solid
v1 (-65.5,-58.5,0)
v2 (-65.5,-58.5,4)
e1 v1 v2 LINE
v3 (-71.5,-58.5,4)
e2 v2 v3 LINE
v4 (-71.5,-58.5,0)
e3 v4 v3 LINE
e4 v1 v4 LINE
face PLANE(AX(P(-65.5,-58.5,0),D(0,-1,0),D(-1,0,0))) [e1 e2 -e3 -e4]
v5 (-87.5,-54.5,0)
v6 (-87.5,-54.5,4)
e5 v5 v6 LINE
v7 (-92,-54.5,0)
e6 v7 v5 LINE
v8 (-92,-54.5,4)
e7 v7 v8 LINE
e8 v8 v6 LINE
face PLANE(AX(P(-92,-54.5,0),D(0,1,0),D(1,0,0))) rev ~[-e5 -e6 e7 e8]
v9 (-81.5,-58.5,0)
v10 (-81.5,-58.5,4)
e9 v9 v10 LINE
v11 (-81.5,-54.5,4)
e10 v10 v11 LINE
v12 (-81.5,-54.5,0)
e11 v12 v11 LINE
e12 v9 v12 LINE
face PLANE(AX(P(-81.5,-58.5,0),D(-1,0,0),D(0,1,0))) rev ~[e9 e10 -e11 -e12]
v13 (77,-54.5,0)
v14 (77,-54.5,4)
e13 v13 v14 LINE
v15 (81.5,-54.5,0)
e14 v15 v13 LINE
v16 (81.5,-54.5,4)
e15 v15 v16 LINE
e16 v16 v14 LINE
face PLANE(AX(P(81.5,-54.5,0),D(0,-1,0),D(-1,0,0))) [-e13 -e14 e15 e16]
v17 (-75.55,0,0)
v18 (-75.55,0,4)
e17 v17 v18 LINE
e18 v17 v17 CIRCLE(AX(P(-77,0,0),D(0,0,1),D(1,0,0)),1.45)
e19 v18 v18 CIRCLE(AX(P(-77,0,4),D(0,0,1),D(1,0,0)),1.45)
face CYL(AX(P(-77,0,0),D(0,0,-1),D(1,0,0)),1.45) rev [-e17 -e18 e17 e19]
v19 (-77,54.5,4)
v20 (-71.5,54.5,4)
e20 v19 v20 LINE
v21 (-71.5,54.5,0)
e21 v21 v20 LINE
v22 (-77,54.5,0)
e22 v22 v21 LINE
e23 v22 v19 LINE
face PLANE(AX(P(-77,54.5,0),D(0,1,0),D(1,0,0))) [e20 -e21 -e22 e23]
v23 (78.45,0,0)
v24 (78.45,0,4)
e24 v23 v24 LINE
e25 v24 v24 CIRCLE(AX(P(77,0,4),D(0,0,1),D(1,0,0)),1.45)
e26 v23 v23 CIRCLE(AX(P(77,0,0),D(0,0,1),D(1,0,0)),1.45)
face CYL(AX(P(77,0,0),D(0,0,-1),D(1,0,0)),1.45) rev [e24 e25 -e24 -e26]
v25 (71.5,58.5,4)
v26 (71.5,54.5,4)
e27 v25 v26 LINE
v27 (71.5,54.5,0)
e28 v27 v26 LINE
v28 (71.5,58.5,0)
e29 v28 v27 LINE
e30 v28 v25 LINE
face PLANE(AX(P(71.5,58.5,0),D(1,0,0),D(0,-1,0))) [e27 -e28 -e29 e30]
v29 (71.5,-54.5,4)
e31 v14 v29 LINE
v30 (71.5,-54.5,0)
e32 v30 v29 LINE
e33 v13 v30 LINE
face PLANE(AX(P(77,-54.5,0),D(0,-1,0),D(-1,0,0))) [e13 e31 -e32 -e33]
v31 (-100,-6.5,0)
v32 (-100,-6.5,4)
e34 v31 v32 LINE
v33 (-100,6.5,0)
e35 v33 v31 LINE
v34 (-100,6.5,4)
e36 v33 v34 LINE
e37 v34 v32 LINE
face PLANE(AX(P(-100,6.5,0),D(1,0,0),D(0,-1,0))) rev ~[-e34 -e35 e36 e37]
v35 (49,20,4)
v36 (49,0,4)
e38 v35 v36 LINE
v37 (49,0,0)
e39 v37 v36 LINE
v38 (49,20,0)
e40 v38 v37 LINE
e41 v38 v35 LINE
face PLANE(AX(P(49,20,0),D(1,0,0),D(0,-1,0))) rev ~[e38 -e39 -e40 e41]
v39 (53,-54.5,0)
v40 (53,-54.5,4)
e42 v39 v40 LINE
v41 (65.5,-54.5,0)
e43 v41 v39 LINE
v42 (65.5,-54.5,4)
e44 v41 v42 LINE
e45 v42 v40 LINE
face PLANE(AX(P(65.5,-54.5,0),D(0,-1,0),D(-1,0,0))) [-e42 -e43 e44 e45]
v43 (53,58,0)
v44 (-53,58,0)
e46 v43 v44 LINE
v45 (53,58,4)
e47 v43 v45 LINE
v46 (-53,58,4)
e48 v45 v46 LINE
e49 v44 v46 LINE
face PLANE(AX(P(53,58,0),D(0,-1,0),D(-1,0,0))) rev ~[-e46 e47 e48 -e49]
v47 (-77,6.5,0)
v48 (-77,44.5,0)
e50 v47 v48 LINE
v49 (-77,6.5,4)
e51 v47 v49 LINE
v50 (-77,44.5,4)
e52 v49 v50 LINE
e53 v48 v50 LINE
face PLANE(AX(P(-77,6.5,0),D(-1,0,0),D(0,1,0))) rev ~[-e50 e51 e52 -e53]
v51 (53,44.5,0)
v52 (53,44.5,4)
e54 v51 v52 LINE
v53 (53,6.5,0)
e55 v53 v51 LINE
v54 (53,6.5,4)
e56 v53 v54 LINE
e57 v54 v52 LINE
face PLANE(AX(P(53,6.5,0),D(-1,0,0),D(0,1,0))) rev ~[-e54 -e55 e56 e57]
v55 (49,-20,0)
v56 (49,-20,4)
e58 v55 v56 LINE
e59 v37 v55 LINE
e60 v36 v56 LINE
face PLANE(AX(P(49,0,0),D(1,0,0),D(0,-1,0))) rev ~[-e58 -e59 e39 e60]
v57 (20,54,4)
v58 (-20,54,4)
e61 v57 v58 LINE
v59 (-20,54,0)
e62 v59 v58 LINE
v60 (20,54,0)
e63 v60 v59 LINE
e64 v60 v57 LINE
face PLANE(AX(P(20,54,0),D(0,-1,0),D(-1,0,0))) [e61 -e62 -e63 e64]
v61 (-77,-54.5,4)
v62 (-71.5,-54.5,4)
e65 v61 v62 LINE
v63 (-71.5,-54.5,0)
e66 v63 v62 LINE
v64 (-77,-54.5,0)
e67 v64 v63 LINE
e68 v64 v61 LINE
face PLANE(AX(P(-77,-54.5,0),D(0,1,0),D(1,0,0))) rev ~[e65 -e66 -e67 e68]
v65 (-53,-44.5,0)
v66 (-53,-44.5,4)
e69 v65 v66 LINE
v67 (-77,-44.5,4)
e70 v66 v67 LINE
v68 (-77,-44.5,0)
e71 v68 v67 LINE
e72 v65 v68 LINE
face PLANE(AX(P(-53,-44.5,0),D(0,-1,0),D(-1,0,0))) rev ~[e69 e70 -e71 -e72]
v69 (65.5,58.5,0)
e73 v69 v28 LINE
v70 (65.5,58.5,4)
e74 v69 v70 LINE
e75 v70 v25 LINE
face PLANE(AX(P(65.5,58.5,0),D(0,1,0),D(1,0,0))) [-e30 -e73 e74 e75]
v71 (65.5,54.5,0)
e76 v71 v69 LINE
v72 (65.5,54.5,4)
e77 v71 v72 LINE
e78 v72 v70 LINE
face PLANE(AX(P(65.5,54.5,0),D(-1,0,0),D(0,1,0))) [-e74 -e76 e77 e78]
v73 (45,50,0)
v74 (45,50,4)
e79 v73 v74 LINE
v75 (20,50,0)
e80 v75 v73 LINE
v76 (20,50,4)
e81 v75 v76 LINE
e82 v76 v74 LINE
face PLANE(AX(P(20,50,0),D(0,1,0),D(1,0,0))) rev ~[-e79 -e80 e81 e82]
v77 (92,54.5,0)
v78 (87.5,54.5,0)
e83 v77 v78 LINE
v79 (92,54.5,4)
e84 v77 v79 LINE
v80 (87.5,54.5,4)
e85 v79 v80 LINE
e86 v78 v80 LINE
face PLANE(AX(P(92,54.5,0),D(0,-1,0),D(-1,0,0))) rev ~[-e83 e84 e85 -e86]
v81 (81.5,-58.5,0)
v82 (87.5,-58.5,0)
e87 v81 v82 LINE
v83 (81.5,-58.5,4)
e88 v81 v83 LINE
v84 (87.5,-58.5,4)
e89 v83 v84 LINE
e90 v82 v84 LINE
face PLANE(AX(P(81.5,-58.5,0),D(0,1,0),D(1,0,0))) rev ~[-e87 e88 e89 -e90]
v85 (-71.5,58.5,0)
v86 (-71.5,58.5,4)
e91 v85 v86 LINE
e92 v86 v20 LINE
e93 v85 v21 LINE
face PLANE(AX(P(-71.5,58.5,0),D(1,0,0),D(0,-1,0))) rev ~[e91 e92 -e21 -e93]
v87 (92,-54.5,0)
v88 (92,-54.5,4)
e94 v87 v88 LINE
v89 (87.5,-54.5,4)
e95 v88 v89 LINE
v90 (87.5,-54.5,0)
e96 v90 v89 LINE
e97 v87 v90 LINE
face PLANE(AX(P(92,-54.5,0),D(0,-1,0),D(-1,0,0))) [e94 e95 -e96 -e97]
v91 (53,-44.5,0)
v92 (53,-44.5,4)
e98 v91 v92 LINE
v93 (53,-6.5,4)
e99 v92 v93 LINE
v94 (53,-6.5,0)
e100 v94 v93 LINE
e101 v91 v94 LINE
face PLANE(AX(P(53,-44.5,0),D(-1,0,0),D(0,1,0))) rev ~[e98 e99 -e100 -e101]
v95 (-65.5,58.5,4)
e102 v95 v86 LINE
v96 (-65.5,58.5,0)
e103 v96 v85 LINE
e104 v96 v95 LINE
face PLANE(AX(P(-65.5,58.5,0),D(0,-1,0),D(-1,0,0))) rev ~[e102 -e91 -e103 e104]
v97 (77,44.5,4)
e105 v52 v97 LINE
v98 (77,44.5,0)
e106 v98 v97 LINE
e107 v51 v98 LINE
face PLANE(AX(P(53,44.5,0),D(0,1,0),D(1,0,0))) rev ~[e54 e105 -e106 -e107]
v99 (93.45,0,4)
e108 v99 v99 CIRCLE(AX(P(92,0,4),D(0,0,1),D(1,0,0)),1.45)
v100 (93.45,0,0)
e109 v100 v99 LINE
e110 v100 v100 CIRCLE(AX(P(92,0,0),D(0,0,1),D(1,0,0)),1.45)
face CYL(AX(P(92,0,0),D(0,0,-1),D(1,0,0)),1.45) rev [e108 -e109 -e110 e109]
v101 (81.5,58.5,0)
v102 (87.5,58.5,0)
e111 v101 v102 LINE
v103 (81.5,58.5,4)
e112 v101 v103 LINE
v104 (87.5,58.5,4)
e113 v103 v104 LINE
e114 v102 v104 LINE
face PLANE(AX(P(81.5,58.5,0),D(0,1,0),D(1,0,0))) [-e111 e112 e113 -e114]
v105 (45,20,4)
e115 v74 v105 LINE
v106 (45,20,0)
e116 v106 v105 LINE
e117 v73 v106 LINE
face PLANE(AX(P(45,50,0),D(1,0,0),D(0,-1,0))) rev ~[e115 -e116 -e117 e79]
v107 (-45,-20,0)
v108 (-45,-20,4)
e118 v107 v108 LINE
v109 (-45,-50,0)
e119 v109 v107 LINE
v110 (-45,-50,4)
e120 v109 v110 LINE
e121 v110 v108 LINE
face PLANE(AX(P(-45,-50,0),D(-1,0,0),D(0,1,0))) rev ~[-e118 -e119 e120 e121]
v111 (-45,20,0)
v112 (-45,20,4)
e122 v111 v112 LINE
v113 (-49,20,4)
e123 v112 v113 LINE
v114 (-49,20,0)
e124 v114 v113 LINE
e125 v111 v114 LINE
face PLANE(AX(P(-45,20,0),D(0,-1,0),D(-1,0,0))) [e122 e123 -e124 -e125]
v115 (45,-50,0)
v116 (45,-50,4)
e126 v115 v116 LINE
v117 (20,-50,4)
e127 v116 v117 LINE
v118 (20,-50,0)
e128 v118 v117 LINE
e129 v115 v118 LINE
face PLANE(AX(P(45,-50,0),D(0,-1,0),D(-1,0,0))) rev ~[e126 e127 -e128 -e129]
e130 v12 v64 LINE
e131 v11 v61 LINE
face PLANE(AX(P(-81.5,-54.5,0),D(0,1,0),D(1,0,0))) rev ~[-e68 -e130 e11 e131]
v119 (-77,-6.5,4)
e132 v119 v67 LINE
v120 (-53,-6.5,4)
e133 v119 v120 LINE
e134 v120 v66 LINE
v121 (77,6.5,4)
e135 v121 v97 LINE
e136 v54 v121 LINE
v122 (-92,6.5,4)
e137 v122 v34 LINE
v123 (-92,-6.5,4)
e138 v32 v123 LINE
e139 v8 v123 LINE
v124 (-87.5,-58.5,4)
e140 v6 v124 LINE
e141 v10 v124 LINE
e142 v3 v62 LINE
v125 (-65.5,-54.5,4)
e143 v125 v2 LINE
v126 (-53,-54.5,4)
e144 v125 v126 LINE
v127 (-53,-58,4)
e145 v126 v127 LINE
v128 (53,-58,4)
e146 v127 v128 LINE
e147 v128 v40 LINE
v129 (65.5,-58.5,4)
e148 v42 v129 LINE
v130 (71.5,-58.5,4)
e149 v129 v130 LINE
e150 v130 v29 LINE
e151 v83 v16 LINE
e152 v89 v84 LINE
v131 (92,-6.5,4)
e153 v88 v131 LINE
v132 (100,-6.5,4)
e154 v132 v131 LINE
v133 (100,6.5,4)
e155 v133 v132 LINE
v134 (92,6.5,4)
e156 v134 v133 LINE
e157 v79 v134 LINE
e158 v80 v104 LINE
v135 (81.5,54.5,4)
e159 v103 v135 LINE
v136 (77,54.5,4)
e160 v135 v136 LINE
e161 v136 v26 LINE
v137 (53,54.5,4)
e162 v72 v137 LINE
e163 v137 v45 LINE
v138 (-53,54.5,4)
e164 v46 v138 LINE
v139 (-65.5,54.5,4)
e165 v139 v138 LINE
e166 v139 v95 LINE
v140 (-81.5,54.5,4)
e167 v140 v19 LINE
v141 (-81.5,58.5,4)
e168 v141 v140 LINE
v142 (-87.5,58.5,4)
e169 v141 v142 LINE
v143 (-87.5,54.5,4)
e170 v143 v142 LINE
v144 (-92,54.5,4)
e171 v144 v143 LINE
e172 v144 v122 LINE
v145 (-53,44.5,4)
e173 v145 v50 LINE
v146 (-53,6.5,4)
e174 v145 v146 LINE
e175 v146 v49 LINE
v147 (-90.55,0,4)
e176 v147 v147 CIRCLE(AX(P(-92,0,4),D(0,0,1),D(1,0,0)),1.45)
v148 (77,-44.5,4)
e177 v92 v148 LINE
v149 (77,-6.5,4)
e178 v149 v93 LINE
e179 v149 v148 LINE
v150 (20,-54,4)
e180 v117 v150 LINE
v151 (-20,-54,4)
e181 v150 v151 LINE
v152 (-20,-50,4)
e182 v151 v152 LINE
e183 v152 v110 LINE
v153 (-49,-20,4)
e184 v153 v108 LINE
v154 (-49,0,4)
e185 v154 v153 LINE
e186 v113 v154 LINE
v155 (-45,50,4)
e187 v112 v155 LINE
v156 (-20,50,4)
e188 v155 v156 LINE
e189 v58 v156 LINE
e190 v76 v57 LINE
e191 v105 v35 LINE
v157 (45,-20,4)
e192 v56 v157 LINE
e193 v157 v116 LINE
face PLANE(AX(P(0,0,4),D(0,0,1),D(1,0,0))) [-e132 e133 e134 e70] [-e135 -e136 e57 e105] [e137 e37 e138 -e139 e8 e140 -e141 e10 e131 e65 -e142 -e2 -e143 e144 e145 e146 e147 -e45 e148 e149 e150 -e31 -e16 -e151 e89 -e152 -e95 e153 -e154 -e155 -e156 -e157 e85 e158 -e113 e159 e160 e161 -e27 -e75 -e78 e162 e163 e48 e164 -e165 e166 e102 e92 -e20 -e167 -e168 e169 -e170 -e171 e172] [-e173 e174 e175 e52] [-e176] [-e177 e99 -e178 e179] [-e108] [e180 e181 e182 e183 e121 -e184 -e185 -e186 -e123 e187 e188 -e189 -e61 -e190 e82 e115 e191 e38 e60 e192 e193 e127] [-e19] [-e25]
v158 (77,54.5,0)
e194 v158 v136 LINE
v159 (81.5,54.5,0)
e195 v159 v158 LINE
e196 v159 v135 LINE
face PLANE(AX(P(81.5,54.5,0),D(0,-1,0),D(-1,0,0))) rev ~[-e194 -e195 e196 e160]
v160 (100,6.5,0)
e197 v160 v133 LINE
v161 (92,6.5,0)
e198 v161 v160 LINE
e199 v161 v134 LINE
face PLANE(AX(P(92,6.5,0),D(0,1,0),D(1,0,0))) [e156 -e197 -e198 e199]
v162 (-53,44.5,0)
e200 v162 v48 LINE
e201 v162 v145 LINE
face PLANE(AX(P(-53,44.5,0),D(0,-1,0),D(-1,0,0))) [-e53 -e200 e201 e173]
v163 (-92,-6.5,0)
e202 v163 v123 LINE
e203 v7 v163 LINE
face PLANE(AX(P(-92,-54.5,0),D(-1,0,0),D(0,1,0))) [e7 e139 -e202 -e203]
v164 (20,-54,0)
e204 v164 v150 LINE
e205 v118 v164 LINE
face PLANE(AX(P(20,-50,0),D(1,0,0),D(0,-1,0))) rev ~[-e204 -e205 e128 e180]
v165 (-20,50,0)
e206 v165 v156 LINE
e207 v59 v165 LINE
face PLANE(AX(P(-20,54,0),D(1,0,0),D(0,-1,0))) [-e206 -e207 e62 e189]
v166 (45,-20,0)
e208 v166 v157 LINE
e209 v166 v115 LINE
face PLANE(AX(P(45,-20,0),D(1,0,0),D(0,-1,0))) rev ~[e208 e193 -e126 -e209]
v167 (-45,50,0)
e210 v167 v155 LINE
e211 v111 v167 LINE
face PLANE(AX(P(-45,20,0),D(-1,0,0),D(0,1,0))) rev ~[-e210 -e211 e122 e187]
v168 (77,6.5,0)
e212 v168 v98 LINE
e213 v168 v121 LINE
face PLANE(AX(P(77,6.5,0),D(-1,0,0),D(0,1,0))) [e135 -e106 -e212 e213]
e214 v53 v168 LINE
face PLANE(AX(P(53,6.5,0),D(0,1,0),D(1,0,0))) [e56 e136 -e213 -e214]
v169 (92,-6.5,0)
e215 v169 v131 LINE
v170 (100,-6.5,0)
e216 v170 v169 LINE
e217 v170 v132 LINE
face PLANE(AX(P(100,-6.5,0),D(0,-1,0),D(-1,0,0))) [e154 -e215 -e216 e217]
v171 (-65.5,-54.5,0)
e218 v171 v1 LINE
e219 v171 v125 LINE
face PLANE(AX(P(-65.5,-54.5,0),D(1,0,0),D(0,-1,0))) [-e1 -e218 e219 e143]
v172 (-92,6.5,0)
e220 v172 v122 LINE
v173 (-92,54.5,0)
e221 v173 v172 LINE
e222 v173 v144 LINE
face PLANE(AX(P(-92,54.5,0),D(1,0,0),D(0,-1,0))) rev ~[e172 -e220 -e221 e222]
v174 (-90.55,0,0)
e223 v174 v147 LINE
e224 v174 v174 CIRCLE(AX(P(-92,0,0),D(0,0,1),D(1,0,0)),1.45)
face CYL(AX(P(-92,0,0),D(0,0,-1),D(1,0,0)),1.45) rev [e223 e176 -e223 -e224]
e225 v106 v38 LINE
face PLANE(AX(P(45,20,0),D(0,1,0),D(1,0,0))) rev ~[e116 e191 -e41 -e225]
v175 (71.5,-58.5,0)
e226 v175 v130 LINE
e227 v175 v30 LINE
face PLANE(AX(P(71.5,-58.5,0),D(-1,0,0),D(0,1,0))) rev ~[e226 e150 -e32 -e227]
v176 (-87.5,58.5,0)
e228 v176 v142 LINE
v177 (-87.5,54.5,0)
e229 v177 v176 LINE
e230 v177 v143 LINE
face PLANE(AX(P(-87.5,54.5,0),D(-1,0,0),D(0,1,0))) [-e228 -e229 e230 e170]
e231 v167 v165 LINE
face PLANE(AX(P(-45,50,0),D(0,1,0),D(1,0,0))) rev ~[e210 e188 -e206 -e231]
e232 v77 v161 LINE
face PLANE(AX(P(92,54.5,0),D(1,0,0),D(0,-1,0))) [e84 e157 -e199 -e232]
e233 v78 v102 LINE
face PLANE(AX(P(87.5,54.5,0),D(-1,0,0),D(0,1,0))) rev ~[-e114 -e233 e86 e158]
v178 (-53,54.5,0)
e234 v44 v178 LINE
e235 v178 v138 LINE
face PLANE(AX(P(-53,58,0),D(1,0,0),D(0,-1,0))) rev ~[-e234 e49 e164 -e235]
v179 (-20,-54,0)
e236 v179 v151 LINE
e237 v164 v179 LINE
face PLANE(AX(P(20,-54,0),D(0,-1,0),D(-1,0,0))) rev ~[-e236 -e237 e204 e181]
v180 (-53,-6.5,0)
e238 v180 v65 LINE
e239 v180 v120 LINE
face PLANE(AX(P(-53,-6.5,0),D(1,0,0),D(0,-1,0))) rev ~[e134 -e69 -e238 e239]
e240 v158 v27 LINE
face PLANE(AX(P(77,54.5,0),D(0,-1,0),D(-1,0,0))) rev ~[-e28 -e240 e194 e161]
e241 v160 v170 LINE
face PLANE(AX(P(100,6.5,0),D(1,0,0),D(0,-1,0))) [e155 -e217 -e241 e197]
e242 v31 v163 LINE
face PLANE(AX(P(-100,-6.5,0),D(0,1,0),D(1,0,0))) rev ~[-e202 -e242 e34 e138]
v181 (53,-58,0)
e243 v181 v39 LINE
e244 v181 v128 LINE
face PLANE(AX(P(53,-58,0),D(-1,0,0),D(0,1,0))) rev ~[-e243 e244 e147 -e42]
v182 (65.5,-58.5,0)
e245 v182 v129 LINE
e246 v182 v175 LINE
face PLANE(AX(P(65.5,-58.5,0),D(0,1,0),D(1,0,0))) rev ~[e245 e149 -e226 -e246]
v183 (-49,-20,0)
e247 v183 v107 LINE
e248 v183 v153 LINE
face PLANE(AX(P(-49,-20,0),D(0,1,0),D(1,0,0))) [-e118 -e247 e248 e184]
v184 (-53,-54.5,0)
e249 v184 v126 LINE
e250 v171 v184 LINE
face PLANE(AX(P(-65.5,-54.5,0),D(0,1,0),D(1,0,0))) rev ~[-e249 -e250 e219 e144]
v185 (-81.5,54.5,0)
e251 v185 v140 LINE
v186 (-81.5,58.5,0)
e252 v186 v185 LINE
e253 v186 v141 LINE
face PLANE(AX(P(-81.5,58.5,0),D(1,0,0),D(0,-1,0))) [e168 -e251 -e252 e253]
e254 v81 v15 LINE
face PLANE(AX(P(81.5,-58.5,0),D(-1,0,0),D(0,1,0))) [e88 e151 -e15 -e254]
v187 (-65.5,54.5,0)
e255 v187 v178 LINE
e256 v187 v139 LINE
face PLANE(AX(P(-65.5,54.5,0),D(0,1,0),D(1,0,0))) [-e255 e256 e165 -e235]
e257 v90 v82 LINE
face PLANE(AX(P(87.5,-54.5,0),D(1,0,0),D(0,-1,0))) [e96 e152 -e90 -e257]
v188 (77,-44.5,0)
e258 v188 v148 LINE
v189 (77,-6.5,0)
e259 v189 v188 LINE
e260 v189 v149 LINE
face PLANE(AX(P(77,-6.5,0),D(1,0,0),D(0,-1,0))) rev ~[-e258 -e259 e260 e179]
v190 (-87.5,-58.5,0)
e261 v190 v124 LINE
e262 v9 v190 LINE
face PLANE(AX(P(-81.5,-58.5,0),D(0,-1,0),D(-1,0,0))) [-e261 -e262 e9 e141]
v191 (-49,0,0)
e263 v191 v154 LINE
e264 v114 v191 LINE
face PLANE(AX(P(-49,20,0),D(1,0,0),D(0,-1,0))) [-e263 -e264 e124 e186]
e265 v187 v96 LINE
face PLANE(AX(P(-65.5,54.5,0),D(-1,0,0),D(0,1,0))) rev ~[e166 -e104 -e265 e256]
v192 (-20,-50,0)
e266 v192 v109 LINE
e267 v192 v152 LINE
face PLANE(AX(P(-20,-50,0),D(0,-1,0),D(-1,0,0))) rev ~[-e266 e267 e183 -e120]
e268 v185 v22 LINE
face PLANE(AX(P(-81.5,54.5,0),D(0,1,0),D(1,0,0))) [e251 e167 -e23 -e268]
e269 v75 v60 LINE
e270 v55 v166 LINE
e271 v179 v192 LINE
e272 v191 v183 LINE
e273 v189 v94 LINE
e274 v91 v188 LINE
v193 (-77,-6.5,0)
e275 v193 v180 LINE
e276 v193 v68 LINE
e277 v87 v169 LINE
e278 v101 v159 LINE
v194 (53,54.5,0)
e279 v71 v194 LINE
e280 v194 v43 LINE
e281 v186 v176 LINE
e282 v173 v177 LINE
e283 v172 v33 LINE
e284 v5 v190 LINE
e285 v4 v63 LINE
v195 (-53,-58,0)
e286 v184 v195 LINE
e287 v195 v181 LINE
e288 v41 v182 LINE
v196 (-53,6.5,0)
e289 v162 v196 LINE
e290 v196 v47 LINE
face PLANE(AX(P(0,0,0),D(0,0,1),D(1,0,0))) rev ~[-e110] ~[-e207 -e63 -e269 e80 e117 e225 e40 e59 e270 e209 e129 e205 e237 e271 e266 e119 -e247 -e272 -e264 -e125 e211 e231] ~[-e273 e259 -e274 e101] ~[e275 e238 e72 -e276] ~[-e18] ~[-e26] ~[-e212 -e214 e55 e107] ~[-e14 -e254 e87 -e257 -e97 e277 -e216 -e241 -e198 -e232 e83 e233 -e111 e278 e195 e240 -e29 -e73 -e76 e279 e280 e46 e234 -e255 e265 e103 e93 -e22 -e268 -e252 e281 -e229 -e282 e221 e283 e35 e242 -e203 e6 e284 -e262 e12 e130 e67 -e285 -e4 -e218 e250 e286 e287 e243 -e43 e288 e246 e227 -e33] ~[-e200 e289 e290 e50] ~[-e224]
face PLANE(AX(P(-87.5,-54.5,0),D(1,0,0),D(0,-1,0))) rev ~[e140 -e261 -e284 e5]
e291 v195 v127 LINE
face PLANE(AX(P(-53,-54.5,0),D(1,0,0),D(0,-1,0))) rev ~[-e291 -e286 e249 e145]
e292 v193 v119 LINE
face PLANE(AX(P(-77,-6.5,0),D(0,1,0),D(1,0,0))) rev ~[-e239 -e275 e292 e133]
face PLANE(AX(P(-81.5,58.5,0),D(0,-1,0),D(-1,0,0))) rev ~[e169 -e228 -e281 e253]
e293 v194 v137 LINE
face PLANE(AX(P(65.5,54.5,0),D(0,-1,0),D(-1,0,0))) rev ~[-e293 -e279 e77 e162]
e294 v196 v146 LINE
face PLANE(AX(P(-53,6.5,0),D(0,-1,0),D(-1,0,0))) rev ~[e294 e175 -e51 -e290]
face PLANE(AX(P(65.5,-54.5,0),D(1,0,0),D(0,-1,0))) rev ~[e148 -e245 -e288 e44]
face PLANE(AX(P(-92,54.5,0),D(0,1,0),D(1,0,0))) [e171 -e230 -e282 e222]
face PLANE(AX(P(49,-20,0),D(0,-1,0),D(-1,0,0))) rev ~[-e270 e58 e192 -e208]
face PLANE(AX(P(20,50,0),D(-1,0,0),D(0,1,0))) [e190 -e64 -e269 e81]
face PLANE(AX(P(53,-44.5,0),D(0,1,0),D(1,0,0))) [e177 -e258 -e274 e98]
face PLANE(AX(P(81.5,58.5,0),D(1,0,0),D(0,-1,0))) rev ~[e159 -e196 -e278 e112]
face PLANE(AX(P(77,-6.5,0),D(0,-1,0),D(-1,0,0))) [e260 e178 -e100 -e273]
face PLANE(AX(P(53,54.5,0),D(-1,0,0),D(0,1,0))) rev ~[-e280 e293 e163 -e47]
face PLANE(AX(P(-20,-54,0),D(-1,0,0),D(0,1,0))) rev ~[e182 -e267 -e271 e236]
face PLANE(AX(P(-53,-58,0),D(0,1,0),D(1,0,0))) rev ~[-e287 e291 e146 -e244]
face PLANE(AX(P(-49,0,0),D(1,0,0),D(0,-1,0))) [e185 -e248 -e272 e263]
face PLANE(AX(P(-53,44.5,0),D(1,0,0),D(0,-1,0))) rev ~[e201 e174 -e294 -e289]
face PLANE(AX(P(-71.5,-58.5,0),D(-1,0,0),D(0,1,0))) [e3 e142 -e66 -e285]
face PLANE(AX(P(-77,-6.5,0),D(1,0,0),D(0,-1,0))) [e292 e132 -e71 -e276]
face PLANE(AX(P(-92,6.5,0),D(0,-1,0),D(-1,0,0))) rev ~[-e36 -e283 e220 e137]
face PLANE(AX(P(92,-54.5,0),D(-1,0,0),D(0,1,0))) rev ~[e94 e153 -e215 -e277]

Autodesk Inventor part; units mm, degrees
ref_plane "YZ Plane" through (0, 0, 0) normal (1, 0, 0) x (0, 1, 0)
ref_plane "XZ Plane" through (0, 0, 0) normal (0, 1, 0) x (-1, 0, 0)
ref_plane "XY Plane" through (0, 0, 0) normal (0, 0, 1) x (1, 0, 0)
sketch "Sketch1" plane through (0, 0, 0) normal (0, 0, 1) x (1, 0, 0)
  line L0 (45, -50) -> (-45, -50)
  line L1 (-45, -50) -> (-45, 50)
  line L2 (-45, 50) -> (45, 50)
  line L3 (45, 50) -> (45, -50)
  line L4 (45, -50) -> (-45, 50) construction
  line L5 (-45, -50) -> (45, 50) construction
  line L6 (53, 58) -> (-53, 58)
  line L7 (-53, 58) -> (-53, 54.5)
  line L8 (-53, -58) -> (53, -58)
  line L9 (53, -58) -> (53, -54.5)
  line L10 (-20, 50) -> (20, 50)
  line L11 (20, 50) -> (20, 54)
  line L12 (20, 54) -> (-20, 54)
  line L13 (-20, 54) -> (-20, 50)
  line L14 (-20, -50) -> (20, -50)
  line L15 (20, -50) -> (20, -54)
  line L16 (20, -54) -> (-20, -54)
  line L17 (-20, -54) -> (-20, -50)
  line L18 (-45, 20) -> (-49, 20)
  line L19 (-49, 20) -> (-49, -20)
  line L20 (-49, -20) -> (-45, -20)
  line L21 (-45, -20) -> (-45, 20)
  line L22 (45, 20) -> (49, 20)
  line L23 (49, 20) -> (49, -20)
  line L24 (49, -20) -> (45, -20)
  line L25 (45, -20) -> (45, 20)
  line L26 (-53, 6.5) -> (-77, 6.5)
  line L27 (-100, 6.5) -> (-100, -6.5)
  line L28 (-100, -6.5) -> (-92, -6.5)
  line L29 (-53, -6.5) -> (-53, 6.5) construction
  line L30 (-53, 0) -> (53, 0)
  circle A0 centre (-92, 0) radius 1.45
  circle A1 centre (-77, 0) radius 1.45
  line L31 (0, 50) -> (0, -50)
  line L32 (-53, 6.5) -> (-53, -6.5) construction
  line L33 (-53, -6.5) -> (-53, -44.5)
  line L34 (53, 6.5) -> (53, 44.5)
  line L35 (53, -6.5) -> (53, 6.5) construction
  line L36 (-92, -6.5) -> (-77, -6.5) construction
  line L37 (-77, -6.5) -> (-77, -44.5)
  line L38 (-77, -58) -> (-92, -58) construction
  line L39 (-92, -58) -> (-92, -54.5) construction
  line L40 (-92, -58) -> (-77, -58) construction
  line L41 (-77, -58) -> (-77, -58.5) construction
  line L42 (-77, -58.5) -> (-81.5, -58.5) construction
  line L43 (-92, -58.5) -> (-92, -58) construction
  line L44 (-92, -54.5) -> (-87.5, -54.5)
  line L45 (-87.5, -54.5) -> (-87.5, -58.5)
  line L46 (-81.5, -58.5) -> (-81.5, -54.5)
  line L47 (-81.5, -54.5) -> (-77, -54.5)
  line L48 (-77, 6.5) -> (-77, 44.5)
  line L49 (-77, 58) -> (-92, 58) construction
  line L50 (-92, 58) -> (-92, 54.5) construction
  line L51 (-92, 58) -> (-77, 58) construction
  line L52 (-77, 58) -> (-77, 58.5) construction
  line L53 (-77, 58.5) -> (-81.5, 58.5) construction
  line L54 (-92, 58.5) -> (-92, 58) construction
  line L55 (-92, 54.5) -> (-87.5, 54.5)
  line L56 (-87.5, 54.5) -> (-87.5, 58.5)
  line L57 (-81.5, 58.5) -> (-81.5, 54.5)
  line L58 (-81.5, 54.5) -> (-77, 54.5)
  line L59 (-77, 6.5) -> (-92, 6.5) construction
  line L60 (-92, 6.5) -> (-100, 6.5)
  line L61 (-92, -6.5) -> (-77, -6.5) construction
  line L62 (-77, -6.5) -> (-53, -6.5)
  line L63 (-77, 54.5) -> (-77, 58) construction
  line L64 (-92, 54.5) -> (-92, 6.5)
  line L65 (-87.5, 58.5) -> (-92, 58.5) construction
  line L66 (-81.5, 58.5) -> (-87.5, 58.5)
  line L67 (-92, -54.5) -> (-92, -6.5)
  line L68 (-87.5, -58.5) -> (-92, -58.5) construction
  line L69 (-81.5, -58.5) -> (-87.5, -58.5)
  line L70 (-77, -54.5) -> (-77, -58) construction
  line L71 (-77, 54.5) -> (-71.5, 54.5)
  line L72 (-53, 54.5) -> (-53, 44.5) construction
  line L73 (-53, 44.5) -> (-77, 44.5)
  line L74 (-77, 44.5) -> (-77, 54.5) construction
  line L75 (-77, -54.5) -> (-71.5, -54.5)
  line L76 (-53, -54.5) -> (-53, -54)
  line L77 (-53, -44.5) -> (-77, -44.5)
  line L78 (-77, -44.5) -> (-77, -54.5) construction
  line L79 (-71.5, 54.5) -> (-65.5, 54.5) construction
  line L80 (-65.5, 54.5) -> (-65.5, 58.5)
  line L81 (-65.5, 58.5) -> (-71.5, 58.5)
  line L82 (-71.5, 58.5) -> (-71.5, 54.5)
  line L83 (-71.5, -54.5) -> (-65.5, -54.5) construction
  line L84 (-65.5, -54.5) -> (-65.5, -58.5)
  line L85 (-65.5, -58.5) -> (-71.5, -58.5)
  line L86 (-71.5, -58.5) -> (-71.5, -54.5)
  line L87 (-71.5, 54.5) -> (-65.5, 54.5) construction
  line L88 (-65.5, 54.5) -> (-53, 54.5)
  line L89 (-77, 44.5) -> (-77, 54.5) construction
  line L90 (-53, 44.5) -> (-53, 6.5)
  line L91 (-53, 54.5) -> (-53, 44.5) construction
  line L92 (-77, -44.5) -> (-77, -54.5) construction
  line L93 (-53, -44.5) -> (-53, -54.5) construction
  line L94 (-53, -54) -> (-53, -44.5) construction
  line L95 (-65.5, -54.5) -> (-53, -54.5)
  line L96 (-71.5, -54.5) -> (-65.5, -54.5) construction
  line L97 (-53, -54.5) -> (-53, -58)
  line L98 (53, 6.5) -> (77, 6.5)
  line L99 (100, 6.5) -> (100, -6.5)
  line L100 (100, -6.5) -> (92, -6.5)
  circle A2 centre (92, 0) radius 1.45
  circle A3 centre (77, 0) radius 1.45
  line L101 (92, -6.5) -> (77, -6.5) construction
  line L102 (77, -6.5) -> (77, -44.5)
  line L103 (77, -58) -> (92, -58) construction
  line L104 (92, -58) -> (92, -54.5) construction
  line L105 (92, -58) -> (77, -58) construction
  line L106 (77, -58) -> (77, -58.5) construction
  line L107 (77, -58.5) -> (81.5, -58.5) construction
  line L108 (92, -58.5) -> (92, -58) construction
  line L109 (92, -54.5) -> (87.5, -54.5)
  line L110 (87.5, -54.5) -> (87.5, -58.5)
  line L111 (81.5, -58.5) -> (81.5, -54.5)
  line L112 (81.5, -54.5) -> (77, -54.5)
  line L113 (92, 54.5) -> (87.5, 54.5)
  line L114 (92, 58) -> (92, 54.5) construction
  line L115 (77, 6.5) -> (77, 44.5)
  line L116 (81.5, 54.5) -> (77, 54.5)
  line L117 (77, 58) -> (92, 58) construction
  line L118 (92, 58) -> (77, 58) construction
  line L119 (77, 58) -> (77, 58.5) construction
  line L120 (77, 58.5) -> (81.5, 58.5) construction
  line L121 (81.5, 58.5) -> (81.5, 54.5)
  line L122 (92, 58.5) -> (92, 58) construction
  line L123 (87.5, 54.5) -> (87.5, 58.5)
  line L124 (77, 6.5) -> (92, 6.5) construction
  line L125 (92, 6.5) -> (100, 6.5)
  line L126 (92, -6.5) -> (77, -6.5) construction
  line L127 (77, -6.5) -> (53, -6.5)
  line L128 (77, 54.5) -> (77, 58) construction
  line L129 (92, 54.5) -> (92, 6.5)
  line L130 (87.5, 58.5) -> (92, 58.5) construction
  line L131 (81.5, 58.5) -> (87.5, 58.5)
  line L132 (92, -54.5) -> (92, -6.5)
  line L133 (87.5, -58.5) -> (92, -58.5) construction
  line L134 (81.5, -58.5) -> (87.5, -58.5)
  line L135 (77, -54.5) -> (77, -58) construction
  line L136 (77, 54.5) -> (71.5, 54.5)
  line L137 (53, 44.5) -> (77, 44.5)
  line L138 (77, 44.5) -> (77, 54.5) construction
  line L139 (77, -54.5) -> (71.5, -54.5)
  line L140 (53, -44.5) -> (77, -44.5)
  line L141 (77, -44.5) -> (77, -54.5) construction
  line L142 (71.5, 54.5) -> (65.5, 54.5) construction
  line L143 (65.5, 54.5) -> (65.5, 58.5)
  line L144 (65.5, 58.5) -> (71.5, 58.5)
  line L145 (71.5, 58.5) -> (71.5, 54.5)
  line L146 (71.5, -54.5) -> (65.5, -54.5) construction
  line L147 (65.5, -54.5) -> (65.5, -58.5)
  line L148 (65.5, -58.5) -> (71.5, -58.5)
  line L149 (71.5, -58.5) -> (71.5, -54.5)
  line L150 (71.5, 54.5) -> (65.5, 54.5) construction
  line L151 (65.5, 54.5) -> (53, 54.5)
  line L152 (77, 44.5) -> (77, 54.5) construction
  line L153 (77, -44.5) -> (77, -54.5) construction
  line L154 (65.5, -54.5) -> (53, -54.5)
  line L155 (71.5, -54.5) -> (65.5, -54.5) construction
  line L156 (53, 44.5) -> (53, 54.5) construction
  line L157 (53, 54.5) -> (53, 58)
  line L158 (53, -44.5) -> (53, -6.5)
  line L159 (53, -54.5) -> (53, -44.5) construction
  point P0 (0, 0)
  point P1 (0, 54)
  point P2 (0, 0)
  point P3 (-49, 0)
  point P4 (0, 0)
  point P5 (-53, 0)
  point P6 (0, 0)
  point P7 (0, 0)
  point P8 (-84.5, -58)
  point P9 (-84.5, 58)
  point P10 (-65, 44.5)
  point P11 (-81.5, 56.5)
  point P12 (-71.5, 56.5)
  point P13 (84.5, -58)
  point P14 (84.5, 58)
  point P15 (65, 44.5)
  point P16 (81.5, 56.5)
  point P17 (71.5, 56.5)
  dimension "d0" = 100
  dimension "d1" = 90
  dimension "d2" = 8
  dimension "d3" = 4
  dimension "d4" = 4
  dimension "d5" = 40
  dimension "d6" = 40
  dimension "d7" = 4
  dimension "d8" = 4
  dimension "d9" = 13
  dimension "d10" = 47
  dimension "d11" = 2.9
  dimension "d12" = 15
  dimension "d13" = 24
  dimension "d14" = 4
  dimension "d15" = 4
  dimension "d16" = 15
  dimension "d17" = 0.5
  dimension "d18" = 6
  dimension "d19" = 4.5
  dimension "d20" = 4.5
  dimension "d21" = 4
  dimension "d24" = 10
  dimension "d25" = 10
  dimension "d27" = 10
  dimension "d28" = 6
extrude "Extrusion1" add sketch "Sketch1" along normal blind 4
properties part number "DoorFrameRear_V2" material "Wood (Oak)"
